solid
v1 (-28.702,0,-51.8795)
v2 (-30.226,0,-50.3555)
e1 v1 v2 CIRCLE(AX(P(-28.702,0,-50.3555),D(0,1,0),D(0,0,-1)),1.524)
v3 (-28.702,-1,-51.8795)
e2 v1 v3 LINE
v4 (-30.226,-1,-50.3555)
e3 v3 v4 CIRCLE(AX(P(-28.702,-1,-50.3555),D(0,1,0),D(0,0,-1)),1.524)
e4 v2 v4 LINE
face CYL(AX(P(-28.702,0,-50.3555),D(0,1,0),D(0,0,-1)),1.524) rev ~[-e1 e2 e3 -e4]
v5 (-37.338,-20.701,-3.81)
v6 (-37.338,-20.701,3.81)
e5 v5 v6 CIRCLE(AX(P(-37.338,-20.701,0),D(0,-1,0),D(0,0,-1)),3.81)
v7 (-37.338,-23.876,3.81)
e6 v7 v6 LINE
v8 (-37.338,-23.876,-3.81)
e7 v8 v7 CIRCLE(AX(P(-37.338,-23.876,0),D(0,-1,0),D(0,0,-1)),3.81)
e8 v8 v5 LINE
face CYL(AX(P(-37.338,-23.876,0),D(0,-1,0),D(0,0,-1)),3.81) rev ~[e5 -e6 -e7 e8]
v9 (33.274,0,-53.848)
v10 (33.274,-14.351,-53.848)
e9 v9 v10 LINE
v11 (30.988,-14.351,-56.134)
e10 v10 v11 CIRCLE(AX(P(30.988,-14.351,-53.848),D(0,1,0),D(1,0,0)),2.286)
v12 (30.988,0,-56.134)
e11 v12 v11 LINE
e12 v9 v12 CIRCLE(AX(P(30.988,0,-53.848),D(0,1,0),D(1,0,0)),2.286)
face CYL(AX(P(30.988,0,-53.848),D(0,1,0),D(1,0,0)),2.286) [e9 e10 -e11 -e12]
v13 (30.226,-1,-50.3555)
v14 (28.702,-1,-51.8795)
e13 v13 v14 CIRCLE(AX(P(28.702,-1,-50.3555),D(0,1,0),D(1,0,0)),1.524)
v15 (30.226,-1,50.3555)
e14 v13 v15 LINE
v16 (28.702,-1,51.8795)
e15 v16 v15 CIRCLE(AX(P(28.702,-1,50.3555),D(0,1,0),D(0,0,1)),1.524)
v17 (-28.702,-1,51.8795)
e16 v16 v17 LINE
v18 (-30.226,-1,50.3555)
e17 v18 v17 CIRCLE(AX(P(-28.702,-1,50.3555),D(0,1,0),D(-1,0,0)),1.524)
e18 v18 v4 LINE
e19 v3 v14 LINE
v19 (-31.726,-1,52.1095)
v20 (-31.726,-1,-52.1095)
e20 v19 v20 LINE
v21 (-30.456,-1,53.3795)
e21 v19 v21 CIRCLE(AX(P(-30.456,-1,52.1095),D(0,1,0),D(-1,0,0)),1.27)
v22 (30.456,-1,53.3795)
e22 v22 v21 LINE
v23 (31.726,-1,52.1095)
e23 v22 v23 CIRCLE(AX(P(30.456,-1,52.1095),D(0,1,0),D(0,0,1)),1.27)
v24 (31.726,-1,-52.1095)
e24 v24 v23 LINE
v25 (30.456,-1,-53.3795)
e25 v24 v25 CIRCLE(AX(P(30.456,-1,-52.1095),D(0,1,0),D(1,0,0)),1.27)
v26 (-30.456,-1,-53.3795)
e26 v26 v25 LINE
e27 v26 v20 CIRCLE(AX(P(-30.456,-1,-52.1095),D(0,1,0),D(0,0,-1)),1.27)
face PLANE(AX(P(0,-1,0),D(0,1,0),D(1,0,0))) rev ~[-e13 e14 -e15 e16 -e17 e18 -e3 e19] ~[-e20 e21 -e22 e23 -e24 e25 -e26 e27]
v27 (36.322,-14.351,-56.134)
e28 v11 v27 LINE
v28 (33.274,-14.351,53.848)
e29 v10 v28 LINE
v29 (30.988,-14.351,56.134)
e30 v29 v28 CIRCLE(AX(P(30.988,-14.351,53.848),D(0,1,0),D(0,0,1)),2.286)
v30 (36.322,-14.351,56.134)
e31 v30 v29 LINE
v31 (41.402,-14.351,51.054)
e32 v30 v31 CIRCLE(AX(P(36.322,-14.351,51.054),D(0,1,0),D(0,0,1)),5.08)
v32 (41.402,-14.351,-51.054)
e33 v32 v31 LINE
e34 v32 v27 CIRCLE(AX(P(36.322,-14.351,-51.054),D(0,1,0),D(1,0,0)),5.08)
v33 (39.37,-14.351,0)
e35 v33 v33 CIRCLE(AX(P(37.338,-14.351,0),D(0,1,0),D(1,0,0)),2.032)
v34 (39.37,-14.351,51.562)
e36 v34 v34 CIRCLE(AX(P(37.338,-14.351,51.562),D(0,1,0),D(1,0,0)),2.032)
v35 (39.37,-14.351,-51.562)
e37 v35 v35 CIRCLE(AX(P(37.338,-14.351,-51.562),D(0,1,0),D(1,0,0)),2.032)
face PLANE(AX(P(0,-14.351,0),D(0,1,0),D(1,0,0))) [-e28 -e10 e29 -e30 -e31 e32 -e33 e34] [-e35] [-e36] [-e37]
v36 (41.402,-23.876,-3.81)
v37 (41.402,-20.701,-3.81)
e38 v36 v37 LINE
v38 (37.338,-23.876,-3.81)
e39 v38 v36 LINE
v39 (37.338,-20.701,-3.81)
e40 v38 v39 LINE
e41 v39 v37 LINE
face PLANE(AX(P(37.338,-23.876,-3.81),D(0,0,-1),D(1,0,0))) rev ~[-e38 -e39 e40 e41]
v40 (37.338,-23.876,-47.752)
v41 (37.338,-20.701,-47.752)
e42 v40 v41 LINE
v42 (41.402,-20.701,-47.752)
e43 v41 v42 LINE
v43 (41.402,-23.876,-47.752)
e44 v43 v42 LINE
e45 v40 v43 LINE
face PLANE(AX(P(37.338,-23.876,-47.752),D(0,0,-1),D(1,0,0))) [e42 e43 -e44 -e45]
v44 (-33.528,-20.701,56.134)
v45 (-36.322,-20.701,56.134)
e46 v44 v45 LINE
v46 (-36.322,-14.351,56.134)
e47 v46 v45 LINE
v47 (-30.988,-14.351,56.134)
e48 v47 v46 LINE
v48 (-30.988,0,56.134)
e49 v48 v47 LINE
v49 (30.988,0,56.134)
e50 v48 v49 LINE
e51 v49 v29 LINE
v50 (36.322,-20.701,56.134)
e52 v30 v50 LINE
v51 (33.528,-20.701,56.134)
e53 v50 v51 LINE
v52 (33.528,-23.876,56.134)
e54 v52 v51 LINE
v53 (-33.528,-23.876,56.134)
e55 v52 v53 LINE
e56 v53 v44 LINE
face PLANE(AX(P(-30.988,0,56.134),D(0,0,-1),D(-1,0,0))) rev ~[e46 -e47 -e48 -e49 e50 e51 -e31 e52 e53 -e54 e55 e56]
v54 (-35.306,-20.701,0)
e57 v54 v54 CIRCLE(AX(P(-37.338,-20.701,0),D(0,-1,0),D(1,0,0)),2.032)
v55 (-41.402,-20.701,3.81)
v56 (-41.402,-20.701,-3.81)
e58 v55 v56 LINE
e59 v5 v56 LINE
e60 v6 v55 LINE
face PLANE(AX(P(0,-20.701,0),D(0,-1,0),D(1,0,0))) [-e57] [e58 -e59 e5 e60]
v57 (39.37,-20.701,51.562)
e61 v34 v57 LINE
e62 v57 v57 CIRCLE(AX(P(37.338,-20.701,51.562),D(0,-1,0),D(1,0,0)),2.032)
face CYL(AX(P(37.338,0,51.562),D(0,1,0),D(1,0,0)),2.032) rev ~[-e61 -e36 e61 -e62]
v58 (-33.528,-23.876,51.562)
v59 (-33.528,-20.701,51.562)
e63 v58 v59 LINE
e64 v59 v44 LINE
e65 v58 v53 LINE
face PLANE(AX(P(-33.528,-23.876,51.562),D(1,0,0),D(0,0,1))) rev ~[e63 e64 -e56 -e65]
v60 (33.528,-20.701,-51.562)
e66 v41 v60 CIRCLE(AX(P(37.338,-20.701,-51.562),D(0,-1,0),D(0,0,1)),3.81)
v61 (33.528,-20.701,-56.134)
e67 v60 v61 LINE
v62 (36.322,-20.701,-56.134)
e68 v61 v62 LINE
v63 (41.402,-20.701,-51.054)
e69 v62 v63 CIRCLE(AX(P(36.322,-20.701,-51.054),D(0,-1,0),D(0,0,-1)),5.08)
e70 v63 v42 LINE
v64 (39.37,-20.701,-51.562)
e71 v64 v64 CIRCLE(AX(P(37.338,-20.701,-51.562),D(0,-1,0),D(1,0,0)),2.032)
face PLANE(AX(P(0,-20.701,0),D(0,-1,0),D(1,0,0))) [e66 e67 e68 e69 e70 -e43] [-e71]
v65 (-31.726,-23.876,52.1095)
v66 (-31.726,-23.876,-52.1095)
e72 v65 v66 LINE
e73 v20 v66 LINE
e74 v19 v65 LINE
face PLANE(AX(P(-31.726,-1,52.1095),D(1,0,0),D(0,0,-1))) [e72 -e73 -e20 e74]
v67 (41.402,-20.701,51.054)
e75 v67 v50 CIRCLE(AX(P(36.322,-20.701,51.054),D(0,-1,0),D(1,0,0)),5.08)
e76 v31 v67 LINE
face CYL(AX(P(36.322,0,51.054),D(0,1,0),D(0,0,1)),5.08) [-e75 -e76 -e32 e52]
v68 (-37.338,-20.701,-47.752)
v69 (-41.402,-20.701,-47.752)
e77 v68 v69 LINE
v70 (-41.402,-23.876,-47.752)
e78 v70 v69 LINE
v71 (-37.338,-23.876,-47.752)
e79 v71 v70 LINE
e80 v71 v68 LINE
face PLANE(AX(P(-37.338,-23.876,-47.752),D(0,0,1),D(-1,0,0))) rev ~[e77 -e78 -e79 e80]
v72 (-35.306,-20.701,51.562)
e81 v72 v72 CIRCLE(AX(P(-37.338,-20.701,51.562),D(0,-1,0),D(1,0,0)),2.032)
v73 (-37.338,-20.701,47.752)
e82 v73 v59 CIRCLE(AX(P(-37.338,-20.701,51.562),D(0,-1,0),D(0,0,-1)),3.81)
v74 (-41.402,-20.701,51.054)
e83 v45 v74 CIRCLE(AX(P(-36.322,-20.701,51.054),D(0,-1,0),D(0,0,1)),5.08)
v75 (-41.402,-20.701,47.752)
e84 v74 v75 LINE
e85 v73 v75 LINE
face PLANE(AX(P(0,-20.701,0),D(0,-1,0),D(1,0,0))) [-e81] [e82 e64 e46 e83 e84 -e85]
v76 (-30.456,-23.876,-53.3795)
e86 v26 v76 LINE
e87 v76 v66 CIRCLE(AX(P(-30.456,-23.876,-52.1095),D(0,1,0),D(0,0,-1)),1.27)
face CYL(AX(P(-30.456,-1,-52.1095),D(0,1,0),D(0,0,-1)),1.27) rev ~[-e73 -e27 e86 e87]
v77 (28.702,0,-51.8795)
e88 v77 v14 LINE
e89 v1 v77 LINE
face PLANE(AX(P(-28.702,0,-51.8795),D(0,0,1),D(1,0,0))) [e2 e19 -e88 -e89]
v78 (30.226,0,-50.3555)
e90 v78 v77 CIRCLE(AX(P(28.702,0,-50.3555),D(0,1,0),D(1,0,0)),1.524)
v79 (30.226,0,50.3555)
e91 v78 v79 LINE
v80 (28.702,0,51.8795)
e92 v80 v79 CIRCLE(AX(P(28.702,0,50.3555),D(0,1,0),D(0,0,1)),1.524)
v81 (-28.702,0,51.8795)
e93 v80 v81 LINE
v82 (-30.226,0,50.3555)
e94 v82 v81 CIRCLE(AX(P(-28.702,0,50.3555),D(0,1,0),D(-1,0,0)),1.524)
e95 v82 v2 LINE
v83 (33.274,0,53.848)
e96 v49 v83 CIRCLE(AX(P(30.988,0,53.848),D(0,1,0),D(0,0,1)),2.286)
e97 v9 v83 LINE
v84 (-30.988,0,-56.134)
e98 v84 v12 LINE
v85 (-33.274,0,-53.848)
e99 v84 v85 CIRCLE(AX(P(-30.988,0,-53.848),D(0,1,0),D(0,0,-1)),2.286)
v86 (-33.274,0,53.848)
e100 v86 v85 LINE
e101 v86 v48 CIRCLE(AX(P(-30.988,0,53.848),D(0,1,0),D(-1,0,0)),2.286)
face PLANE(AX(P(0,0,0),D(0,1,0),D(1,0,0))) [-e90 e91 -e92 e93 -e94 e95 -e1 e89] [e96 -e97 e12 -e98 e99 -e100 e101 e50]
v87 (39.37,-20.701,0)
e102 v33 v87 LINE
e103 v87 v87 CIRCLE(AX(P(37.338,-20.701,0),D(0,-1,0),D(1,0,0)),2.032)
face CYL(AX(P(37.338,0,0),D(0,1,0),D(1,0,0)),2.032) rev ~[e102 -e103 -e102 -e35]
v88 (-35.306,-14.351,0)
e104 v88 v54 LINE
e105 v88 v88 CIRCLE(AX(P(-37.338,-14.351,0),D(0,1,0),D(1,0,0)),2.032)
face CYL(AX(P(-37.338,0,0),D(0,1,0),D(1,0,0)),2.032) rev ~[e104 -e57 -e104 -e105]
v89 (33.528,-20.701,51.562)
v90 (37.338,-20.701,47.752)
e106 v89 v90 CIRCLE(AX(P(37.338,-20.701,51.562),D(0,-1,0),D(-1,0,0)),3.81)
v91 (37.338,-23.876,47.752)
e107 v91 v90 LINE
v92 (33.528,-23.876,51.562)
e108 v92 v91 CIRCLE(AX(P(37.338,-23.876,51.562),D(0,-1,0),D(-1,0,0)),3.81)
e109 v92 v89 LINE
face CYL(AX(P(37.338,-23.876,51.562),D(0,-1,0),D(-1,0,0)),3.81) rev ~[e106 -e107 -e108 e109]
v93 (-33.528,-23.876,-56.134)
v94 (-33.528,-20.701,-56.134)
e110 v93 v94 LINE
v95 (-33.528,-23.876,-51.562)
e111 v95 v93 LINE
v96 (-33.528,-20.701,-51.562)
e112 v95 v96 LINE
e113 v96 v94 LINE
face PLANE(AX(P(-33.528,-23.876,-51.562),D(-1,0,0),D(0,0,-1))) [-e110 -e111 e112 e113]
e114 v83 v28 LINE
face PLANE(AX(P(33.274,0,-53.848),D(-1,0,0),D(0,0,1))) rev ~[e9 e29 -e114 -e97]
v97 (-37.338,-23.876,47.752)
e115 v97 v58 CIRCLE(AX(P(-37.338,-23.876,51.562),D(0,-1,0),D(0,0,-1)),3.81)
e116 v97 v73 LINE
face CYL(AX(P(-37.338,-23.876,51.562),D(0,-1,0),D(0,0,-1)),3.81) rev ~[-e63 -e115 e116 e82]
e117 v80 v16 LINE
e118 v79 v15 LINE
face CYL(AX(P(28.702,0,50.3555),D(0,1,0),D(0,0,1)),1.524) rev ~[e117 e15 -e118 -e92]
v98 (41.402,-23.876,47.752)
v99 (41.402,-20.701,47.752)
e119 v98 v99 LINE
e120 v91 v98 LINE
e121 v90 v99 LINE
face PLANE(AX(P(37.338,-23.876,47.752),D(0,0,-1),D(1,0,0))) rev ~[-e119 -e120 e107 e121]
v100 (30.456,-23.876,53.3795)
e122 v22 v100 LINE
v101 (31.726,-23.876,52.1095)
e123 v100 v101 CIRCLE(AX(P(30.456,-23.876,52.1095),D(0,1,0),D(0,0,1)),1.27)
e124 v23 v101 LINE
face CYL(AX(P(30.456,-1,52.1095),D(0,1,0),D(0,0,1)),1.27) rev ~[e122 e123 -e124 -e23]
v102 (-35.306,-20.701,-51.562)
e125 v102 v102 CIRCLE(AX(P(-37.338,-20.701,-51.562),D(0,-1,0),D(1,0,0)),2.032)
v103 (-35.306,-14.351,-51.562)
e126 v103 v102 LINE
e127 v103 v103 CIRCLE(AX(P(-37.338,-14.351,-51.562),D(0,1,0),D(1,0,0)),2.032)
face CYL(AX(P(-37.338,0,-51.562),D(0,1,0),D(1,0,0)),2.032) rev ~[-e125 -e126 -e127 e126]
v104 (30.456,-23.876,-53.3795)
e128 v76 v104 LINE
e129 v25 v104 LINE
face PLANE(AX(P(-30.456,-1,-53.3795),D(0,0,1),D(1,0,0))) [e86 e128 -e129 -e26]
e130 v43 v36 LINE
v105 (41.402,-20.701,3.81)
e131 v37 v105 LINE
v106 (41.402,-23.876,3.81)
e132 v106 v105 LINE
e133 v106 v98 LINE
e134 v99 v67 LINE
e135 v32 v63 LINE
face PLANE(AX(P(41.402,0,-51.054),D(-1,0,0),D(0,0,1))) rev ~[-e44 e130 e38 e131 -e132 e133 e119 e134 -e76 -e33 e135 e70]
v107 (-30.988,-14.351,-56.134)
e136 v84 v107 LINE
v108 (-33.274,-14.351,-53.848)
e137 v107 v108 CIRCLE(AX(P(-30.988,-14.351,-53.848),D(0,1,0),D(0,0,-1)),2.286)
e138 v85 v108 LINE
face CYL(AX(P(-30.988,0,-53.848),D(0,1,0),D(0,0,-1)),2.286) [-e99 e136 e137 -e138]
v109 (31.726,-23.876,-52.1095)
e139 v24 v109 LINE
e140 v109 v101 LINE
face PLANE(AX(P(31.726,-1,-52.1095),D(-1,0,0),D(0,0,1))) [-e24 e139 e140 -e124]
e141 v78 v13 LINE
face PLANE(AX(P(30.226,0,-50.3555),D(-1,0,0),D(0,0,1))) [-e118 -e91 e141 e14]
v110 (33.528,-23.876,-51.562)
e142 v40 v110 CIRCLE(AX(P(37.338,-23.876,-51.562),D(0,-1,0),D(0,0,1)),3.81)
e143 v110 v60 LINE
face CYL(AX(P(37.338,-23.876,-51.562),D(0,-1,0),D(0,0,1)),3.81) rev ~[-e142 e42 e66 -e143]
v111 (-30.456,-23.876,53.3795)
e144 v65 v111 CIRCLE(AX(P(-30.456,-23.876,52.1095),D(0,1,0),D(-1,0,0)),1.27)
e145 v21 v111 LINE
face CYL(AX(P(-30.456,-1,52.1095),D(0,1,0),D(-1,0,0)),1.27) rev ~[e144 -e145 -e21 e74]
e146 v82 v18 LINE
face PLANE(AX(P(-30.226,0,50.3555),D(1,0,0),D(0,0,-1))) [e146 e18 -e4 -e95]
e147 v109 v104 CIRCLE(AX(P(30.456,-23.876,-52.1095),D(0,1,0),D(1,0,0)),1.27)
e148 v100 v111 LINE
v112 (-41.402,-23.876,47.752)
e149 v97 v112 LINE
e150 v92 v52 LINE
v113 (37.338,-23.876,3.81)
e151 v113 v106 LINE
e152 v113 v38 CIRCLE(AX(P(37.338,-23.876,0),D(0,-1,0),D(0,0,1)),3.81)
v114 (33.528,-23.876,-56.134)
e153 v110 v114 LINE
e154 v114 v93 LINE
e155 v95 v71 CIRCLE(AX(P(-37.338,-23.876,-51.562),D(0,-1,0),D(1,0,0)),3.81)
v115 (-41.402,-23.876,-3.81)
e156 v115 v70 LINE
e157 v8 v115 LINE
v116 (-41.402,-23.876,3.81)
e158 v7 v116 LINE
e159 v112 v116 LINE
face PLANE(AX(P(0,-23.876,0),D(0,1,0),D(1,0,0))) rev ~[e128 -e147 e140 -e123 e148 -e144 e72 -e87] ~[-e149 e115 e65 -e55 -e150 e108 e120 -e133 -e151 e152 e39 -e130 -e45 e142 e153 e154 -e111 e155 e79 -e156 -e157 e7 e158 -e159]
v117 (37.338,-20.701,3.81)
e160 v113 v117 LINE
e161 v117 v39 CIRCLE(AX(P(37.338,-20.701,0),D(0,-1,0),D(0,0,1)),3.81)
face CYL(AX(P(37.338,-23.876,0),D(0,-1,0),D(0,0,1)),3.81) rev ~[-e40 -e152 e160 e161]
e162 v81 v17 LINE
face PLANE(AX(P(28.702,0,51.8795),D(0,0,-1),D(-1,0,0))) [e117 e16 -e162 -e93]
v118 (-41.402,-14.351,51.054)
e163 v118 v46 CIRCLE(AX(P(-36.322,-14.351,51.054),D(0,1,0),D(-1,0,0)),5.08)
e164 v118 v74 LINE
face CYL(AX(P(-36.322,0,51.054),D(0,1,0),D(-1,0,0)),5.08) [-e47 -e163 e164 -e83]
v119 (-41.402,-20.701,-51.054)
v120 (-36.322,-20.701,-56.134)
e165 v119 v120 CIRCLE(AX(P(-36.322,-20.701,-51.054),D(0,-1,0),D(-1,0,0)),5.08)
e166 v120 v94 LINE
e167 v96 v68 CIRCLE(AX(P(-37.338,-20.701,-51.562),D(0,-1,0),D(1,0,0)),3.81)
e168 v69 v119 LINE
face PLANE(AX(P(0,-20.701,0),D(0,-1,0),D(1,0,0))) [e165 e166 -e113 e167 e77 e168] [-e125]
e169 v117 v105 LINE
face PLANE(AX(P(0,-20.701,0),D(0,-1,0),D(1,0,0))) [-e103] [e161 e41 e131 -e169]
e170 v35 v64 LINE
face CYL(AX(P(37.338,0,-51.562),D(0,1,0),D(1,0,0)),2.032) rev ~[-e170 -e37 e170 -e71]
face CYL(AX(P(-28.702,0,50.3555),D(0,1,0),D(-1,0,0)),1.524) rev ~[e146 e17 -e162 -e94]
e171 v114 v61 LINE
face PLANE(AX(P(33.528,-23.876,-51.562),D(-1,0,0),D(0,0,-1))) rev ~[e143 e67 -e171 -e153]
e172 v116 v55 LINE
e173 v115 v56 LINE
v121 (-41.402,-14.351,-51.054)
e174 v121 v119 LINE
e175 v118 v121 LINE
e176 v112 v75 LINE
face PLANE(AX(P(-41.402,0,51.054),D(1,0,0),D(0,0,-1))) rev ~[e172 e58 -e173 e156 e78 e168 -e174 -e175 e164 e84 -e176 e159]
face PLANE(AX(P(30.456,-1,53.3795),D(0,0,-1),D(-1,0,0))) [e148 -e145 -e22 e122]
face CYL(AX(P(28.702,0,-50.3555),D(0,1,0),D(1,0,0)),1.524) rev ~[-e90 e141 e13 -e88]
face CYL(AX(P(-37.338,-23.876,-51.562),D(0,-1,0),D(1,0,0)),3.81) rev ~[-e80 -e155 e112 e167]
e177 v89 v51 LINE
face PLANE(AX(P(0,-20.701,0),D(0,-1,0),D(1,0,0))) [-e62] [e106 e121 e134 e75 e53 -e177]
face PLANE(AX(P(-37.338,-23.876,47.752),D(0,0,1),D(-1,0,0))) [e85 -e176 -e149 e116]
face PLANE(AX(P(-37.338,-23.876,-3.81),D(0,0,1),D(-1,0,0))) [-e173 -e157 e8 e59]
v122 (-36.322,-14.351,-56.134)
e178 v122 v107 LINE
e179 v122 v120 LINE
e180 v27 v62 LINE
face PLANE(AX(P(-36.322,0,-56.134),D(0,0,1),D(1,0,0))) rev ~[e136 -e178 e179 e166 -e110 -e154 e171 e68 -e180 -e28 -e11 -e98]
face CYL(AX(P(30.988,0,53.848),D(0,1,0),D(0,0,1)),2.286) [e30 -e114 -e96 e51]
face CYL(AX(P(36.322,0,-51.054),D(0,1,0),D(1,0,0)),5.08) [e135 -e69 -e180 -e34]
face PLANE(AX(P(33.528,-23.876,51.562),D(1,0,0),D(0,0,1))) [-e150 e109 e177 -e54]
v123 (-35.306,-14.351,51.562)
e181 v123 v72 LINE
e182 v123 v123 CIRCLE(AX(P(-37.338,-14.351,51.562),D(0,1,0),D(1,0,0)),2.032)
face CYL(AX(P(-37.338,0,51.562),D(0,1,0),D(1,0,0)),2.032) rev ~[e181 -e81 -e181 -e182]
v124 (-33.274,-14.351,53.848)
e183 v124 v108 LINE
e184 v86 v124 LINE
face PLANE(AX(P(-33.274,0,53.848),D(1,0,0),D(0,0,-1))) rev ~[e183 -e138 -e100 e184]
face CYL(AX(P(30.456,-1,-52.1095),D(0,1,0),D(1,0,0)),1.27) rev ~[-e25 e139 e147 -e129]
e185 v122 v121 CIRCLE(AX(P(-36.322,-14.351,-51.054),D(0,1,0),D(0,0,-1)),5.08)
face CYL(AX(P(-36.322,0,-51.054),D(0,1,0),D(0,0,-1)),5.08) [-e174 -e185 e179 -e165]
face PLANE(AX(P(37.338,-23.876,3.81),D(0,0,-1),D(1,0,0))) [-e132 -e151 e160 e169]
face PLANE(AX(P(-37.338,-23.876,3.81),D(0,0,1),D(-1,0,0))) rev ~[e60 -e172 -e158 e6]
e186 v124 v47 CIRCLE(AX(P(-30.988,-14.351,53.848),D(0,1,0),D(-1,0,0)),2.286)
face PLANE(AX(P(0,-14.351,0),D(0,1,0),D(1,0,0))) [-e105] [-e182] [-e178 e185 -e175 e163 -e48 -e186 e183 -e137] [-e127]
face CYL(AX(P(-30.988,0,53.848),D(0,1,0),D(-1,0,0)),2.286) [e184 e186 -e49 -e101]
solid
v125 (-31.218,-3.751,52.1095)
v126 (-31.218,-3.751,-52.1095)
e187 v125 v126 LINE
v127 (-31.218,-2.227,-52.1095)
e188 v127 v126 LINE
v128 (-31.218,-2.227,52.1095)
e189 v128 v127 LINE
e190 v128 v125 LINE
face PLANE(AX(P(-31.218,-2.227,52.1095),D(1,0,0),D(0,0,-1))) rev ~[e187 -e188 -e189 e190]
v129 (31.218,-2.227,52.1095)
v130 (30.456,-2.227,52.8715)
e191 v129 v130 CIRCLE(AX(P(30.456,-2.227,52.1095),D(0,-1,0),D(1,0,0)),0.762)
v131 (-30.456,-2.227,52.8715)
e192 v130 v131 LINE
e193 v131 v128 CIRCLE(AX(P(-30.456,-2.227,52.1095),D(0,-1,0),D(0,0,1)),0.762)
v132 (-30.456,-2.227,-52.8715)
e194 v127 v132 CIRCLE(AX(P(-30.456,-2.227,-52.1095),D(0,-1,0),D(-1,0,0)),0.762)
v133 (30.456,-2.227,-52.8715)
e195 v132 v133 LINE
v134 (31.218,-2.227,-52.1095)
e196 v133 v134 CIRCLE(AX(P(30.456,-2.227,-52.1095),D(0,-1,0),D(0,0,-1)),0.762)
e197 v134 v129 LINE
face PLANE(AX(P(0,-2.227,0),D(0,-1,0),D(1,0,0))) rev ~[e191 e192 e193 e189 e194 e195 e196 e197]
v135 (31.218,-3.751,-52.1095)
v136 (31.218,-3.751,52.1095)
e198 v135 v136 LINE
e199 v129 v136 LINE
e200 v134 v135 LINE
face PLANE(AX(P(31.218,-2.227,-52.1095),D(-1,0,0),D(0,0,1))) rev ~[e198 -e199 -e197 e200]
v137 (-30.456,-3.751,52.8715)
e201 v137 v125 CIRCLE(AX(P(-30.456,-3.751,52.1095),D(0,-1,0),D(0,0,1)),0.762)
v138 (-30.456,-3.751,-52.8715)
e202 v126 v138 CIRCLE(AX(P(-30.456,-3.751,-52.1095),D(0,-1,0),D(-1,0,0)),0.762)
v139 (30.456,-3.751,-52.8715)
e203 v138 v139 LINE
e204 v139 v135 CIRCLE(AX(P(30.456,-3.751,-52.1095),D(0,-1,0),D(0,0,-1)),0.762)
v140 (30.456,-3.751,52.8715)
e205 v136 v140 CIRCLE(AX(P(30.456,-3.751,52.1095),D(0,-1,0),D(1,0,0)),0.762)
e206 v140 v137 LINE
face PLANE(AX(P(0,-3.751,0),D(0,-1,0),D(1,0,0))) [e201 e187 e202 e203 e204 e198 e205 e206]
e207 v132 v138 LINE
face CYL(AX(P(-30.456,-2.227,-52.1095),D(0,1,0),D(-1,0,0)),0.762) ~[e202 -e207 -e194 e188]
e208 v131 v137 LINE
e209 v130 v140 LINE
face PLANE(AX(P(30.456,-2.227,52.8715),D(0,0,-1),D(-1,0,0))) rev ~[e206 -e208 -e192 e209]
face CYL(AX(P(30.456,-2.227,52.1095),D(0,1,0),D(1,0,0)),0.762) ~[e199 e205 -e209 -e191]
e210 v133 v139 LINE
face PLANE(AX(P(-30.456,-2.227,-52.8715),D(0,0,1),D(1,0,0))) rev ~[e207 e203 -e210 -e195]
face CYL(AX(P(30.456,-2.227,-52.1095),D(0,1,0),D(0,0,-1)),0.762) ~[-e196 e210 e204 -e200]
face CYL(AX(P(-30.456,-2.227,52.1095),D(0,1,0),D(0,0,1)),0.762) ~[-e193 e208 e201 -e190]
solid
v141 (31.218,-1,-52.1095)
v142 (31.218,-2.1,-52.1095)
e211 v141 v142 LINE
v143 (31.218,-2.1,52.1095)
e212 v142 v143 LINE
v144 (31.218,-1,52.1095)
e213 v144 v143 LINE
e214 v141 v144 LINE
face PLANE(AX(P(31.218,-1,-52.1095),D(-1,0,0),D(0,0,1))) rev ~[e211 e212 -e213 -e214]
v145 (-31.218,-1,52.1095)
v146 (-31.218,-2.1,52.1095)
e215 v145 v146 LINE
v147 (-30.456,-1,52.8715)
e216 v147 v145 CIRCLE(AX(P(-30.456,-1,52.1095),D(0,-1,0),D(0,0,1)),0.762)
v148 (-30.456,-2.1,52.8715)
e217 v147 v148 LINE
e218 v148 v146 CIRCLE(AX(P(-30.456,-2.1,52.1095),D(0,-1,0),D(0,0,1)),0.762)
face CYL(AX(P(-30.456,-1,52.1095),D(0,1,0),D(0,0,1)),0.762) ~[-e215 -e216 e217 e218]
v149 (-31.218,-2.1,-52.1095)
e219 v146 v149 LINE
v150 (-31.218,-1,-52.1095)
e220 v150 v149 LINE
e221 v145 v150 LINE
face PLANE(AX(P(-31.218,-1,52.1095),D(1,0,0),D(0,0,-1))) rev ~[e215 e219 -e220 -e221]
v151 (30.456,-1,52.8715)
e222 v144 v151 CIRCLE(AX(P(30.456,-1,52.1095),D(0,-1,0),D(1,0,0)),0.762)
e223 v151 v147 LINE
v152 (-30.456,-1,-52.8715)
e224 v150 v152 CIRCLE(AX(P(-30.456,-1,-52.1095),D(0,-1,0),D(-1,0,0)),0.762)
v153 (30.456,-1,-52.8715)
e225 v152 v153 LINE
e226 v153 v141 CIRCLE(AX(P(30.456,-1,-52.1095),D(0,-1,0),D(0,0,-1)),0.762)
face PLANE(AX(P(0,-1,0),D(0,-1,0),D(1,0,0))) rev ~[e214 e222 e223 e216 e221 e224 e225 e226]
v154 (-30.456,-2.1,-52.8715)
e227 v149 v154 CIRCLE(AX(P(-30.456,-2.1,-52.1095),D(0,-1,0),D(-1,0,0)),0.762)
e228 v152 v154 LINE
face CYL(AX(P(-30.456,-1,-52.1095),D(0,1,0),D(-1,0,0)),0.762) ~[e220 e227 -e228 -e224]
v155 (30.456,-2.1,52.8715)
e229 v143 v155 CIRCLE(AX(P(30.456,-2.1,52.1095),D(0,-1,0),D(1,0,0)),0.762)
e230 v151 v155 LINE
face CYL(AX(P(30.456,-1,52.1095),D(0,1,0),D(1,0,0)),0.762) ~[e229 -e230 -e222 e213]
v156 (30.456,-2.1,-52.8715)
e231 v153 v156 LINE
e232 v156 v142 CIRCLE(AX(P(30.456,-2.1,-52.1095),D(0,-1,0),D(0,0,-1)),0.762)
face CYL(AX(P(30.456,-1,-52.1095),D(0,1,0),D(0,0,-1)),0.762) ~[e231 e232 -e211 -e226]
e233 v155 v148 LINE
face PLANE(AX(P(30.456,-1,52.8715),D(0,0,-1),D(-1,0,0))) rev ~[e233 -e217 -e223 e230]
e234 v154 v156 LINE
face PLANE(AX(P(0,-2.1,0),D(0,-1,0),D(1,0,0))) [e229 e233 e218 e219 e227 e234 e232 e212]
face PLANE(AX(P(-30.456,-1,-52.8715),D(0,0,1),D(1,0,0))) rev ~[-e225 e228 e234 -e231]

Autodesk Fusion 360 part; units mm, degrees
sketch "Sketch1" plane through (0, 0, 0) normal (0, 1, 0) x (1, 0, 0)
  line L0 (-36.322, 56.134) -> (36.322, 56.134)
  line L1 (41.402, 51.054) -> (41.402, -51.054)
  line L2 (36.322, -56.134) -> (-36.322, -56.134)
  line L3 (-41.402, -51.054) -> (-41.402, 51.054)
  line L4 (-41.402, 56.134) -> (41.402, -56.134) construction
  line L5 (41.402, 56.134) -> (-41.402, -56.134) construction
  arc A0 (-36.322, 56.134) -> (-41.402, 51.054) centre (-36.322, 51.054) ccw
  arc A1 (41.402, 51.054) -> (36.322, 56.134) centre (36.322, 51.054) ccw
  arc A2 (36.322, -56.134) -> (41.402, -51.054) centre (36.322, -51.054) ccw
  arc A3 (-41.402, -51.054) -> (-36.322, -56.134) centre (-36.322, -51.054) ccw
  line L6 (-30.988, 56.134) -> (30.988, 56.134)
  line L7 (33.274, 53.848) -> (33.274, -53.848)
  line L8 (30.988, -56.134) -> (-30.988, -56.134)
  line L9 (-33.274, -53.848) -> (-33.274, 53.848)
  line L10 (-33.274, 56.134) -> (33.274, -56.134) construction
  line L11 (33.274, 56.134) -> (-33.274, -56.134) construction
  arc A4 (-30.988, 56.134) -> (-33.274, 53.848) centre (-30.988, 53.848) ccw
  arc A5 (33.274, 53.848) -> (30.988, 56.134) centre (30.988, 53.848) ccw
  arc A6 (30.988, -56.134) -> (33.274, -53.848) centre (30.988, -53.848) ccw
  arc A7 (-33.274, -53.848) -> (-30.988, -56.134) centre (-30.988, -53.848) ccw
  line L12 (-28.702, 51.8795) -> (28.702, 51.8795)
  line L13 (30.226, 50.3555) -> (30.226, -50.3555)
  line L14 (28.702, -51.8795) -> (-28.702, -51.8795)
  line L15 (-30.226, -50.3555) -> (-30.226, 50.3555)
  line L16 (-30.226, 51.8795) -> (30.226, -51.8795) construction
  line L17 (30.226, 51.8795) -> (-30.226, -51.8795) construction
  arc A8 (-28.702, 51.8795) -> (-30.226, 50.3555) centre (-28.702, 50.3555) ccw
  arc A9 (30.226, 50.3555) -> (28.702, 51.8795) centre (28.702, 50.3555) ccw
  arc A10 (28.702, -51.8795) -> (30.226, -50.3555) centre (28.702, -50.3555) ccw
  arc A11 (-30.226, -50.3555) -> (-28.702, -51.8795) centre (-28.702, -50.3555) ccw
  line L18 (-30.456, 53.3795) -> (30.456, 53.3795)
  line L19 (31.726, 52.1095) -> (31.726, -52.1095)
  line L20 (30.456, -53.3795) -> (-30.456, -53.3795)
  line L21 (-31.726, -52.1095) -> (-31.726, 52.1095)
  line L22 (-31.726, 53.3795) -> (31.726, -53.3795) construction
  line L23 (31.726, 53.3795) -> (-31.726, -53.3795) construction
  arc A12 (-30.456, 53.3795) -> (-31.726, 52.1095) centre (-30.456, 52.1095) ccw
  arc A13 (31.726, 52.1095) -> (30.456, 53.3795) centre (30.456, 52.1095) ccw
  arc A14 (30.456, -53.3795) -> (31.726, -52.1095) centre (30.456, -52.1095) ccw
  arc A15 (-31.726, -52.1095) -> (-30.456, -53.3795) centre (-30.456, -52.1095) ccw
  line L24 (37.338, 51.562) -> (-37.338, 51.562) construction
  line L25 (-37.338, 51.562) -> (-37.338, -51.562) construction
  line L26 (-37.338, -51.562) -> (37.338, -51.562) construction
  line L27 (37.338, -51.562) -> (37.338, 51.562) construction
  line L28 (37.338, 51.562) -> (-37.338, -51.562) construction
  line L29 (-37.338, 51.562) -> (37.338, -51.562) construction
  circle A16 centre (-37.338, 51.562) radius 2.032
  circle A17 centre (37.338, 51.562) radius 2.032
  circle A18 centre (37.338, 0) radius 2.032
  circle A19 centre (37.338, -51.562) radius 2.032
  circle A20 centre (-37.338, -51.562) radius 2.032
  circle A21 centre (-37.338, 0) radius 2.032
  dimension "d1" = 82.804
  dimension "d2" = 112.268
  dimension "d3" = 5.08
  dimension "d4" = 66.548
  dimension "d5" = 2.286
  dimension "d6" = 60.452
  dimension "d7" = 103.759
  dimension "d8" = 1.524
  dimension "d15" = 1.5
  dimension "d16" = 1.5
  dimension "d17" = 1.27
  dimension "d21" = 4.064
  dimension "d22" = 74.676
  dimension "d23" = 103.124
extrude "Extrude1" add sketch "Sketch1" against normal blind 23.876 contours L0 L2 L3 A0 A3 L9 A4 A7 | L0 L2 L6 L7 L8 L9 A4 A5 A6 A7 | L0 L1 L2 A1 A2 L7 A5 A6 | L12 L13 L14 L15 A8 A9 A10 A11 | L18 L19 L20 L21 A12 A13 A14 A15 | A16 | A17 | A18 | A19 | A20 | A21 makes body 1
extrude "Extrude2" cut sketch "Sketch1" against normal blind 14.351 contours L0 L2 L3 A0 A3 L9 A4 A7 | L0 L1 L2 A1 A2 L7 A5 A6 | A16 | A17 | A18 | A19 | A20 | A21 bodies 1
extrude "Extrude3" cut sketch "Sketch1" against normal blind 70 contours L12 L13 L14 L15 A8 A9 A10 A11 bodies 1
extrude "Extrude4" cut sketch "Sketch1" against normal blind 40 from surface at -1 contours L18 L19 L20 L21 A12 A13 A14 A15 bodies 1
extrude "Extrude5" cut sketch "Sketch1" against normal blind 80 contours A16 | A17 | A18 | A19 | A20 | A21 bodies 1
sketch "Sketch2" plane through (0, -23.876, 0) normal (0, -1, 0) x (1, 0, 0)
  circle A0 centre (37.338, 51.562) radius 2.032
  circle A1 centre (-37.338, -51.562) radius 2.032
  circle A2 centre (37.338, 0) radius 2.032
  circle A3 centre (-37.338, 51.562) radius 2.032
  circle A4 centre (-37.338, 0) radius 2.032
  circle A5 centre (37.338, -51.562) radius 2.032
  line L0 (-31.726, -52.1095) -> (-31.726, 52.1095)
  arc A6 (-30.456, 53.3795) -> (-31.726, 52.1095) centre (-30.456, 52.1095) ccw
  line L1 (-30.456, 53.3795) -> (30.456, 53.3795)
  arc A7 (31.726, 52.1095) -> (30.456, 53.3795) centre (30.456, 52.1095) ccw
  line L2 (31.726, 52.1095) -> (31.726, -52.1095)
  arc A8 (30.456, -53.3795) -> (31.726, -52.1095) centre (30.456, -52.1095) ccw
  line L3 (30.456, -53.3795) -> (-30.456, -53.3795)
  arc A9 (-31.726, -52.1095) -> (-30.456, -53.3795) centre (-30.456, -52.1095) ccw
  arc A10 (41.402, 51.054) -> (36.322, 56.134) centre (36.322, 51.054) ccw
  line L4 (36.322, 56.134) -> (-36.322, 56.134)
  arc A11 (-36.322, 56.134) -> (-41.402, 51.054) centre (-36.322, 51.054) ccw
  line L5 (-41.402, 51.054) -> (-41.402, -51.054)
  arc A12 (-41.402, -51.054) -> (-36.322, -56.134) centre (-36.322, -51.054) ccw
  line L6 (-36.322, -56.134) -> (36.322, -56.134)
  arc A13 (36.322, -56.134) -> (41.402, -51.054) centre (36.322, -51.054) ccw
  line L7 (41.402, -51.054) -> (41.402, 51.054)
  line L8 (-33.528, 51.562) -> (-33.528, 57.6053)
  line L9 (-33.528, 57.6053) -> (-43.8706, 57.6053)
  line L10 (-37.338, 47.752) -> (-43.8706, 47.752)
  line L11 (-43.8706, 47.752) -> (-43.8706, 57.6053)
  arc A14 (-37.338, 47.752) -> (-33.528, 51.562) centre (-37.338, 51.562) ccw
  line L12 (-37.338, 3.81) -> (-44.0815, 3.81)
  line L13 (-44.0815, 3.81) -> (-44.0815, -3.81)
  line L14 (-37.338, -3.81) -> (-44.0815, -3.81)
  arc A15 (-37.338, -3.81) -> (-37.338, 3.81) centre (-37.338, 0) ccw
  line L15 (-37.338, -47.752) -> (-43.7202, -47.752)
  line L16 (-43.7202, -47.752) -> (-43.7202, -57.2057)
  line L17 (-33.528, -51.562) -> (-33.528, -57.2057)
  line L18 (-33.528, -57.2057) -> (-43.7202, -57.2057)
  arc A16 (-33.528, -51.562) -> (-37.338, -47.752) centre (-37.338, -51.562) ccw
  line L19 (0, 0) -> (0, 74.1902) construction
  line L20 (33.528, 57.6053) -> (43.8706, 57.6053)
  line L21 (43.8706, 47.752) -> (43.8706, 57.6053)
  line L22 (37.338, 47.752) -> (43.8706, 47.752)
  arc A17 (33.528, 51.562) -> (37.338, 47.752) centre (37.338, 51.562) ccw
  line L23 (33.528, 51.562) -> (33.528, 57.6053)
  arc A18 (37.338, 3.81) -> (37.338, -3.81) centre (37.338, 0) ccw
  line L24 (37.338, 3.81) -> (44.0815, 3.81)
  line L25 (44.0815, 3.81) -> (44.0815, -3.81)
  line L26 (37.338, -3.81) -> (44.0815, -3.81)
  line L27 (43.7202, -47.752) -> (43.7202, -57.2057)
  line L28 (33.528, -57.2057) -> (43.7202, -57.2057)
  line L29 (33.528, -51.562) -> (33.528, -57.2057)
  arc A19 (37.338, -47.752) -> (33.528, -51.562) centre (37.338, -51.562) ccw
  line L30 (37.338, -47.752) -> (43.7202, -47.752)
  dimension "d26" = 3.81
extrude "Extrude6" cut sketch "Sketch2" against normal blind 3.175 contours A10 L4 L7 L22 A17 L23 | L7 A18 L24 L26 | L4 A11 L5 L8 L10 A14 | L6 A13 L7 L29 A19 L30 | L5 L12 L14 A15 | L5 A12 L6 L15 L17 A16 bodies 1
sketch "Sketch3" plane through (0, -1, 0) normal (0, -1, 0) x (1, 0, 0)
  arc A0 (-30.226, -50.3555) -> (-28.702, -51.8795) centre (-28.702, -50.3555) ccw
  line L0 (-30.226, -50.3555) -> (-30.226, 50.3555)
  arc A1 (-28.702, 51.8795) -> (-30.226, 50.3555) centre (-28.702, 50.3555) ccw
  line L1 (-28.702, 51.8795) -> (28.702, 51.8795)
  arc A2 (30.226, 50.3555) -> (28.702, 51.8795) centre (28.702, 50.3555) ccw
  line L2 (30.226, 50.3555) -> (30.226, -50.3555)
  arc A3 (28.702, -51.8795) -> (30.226, -50.3555) centre (28.702, -50.3555) ccw
  line L3 (28.702, -51.8795) -> (-28.702, -51.8795)
  arc A4 (-31.726, -52.1095) -> (-30.456, -53.3795) centre (-30.456, -52.1095) ccw
  line L4 (-30.456, -53.3795) -> (30.456, -53.3795)
  arc A5 (30.456, -53.3795) -> (31.726, -52.1095) centre (30.456, -52.1095) ccw
  line L5 (31.726, -52.1095) -> (31.726, 52.1095)
  arc A6 (31.726, 52.1095) -> (30.456, 53.3795) centre (30.456, 52.1095) ccw
  line L6 (30.456, 53.3795) -> (-30.456, 53.3795)
  arc A7 (-30.456, 53.3795) -> (-31.726, 52.1095) centre (-30.456, 52.1095) ccw
  line L7 (-31.726, 52.1095) -> (-31.726, -52.1095)
  arc A8 (-31.218, -52.1095) -> (-30.456, -52.8715) centre (-30.456, -52.1095) ccw
  line L8 (-30.456, -52.8715) -> (30.456, -52.8715)
  arc A9 (30.456, -52.8715) -> (31.218, -52.1095) centre (30.456, -52.1095) ccw
  line L9 (31.218, -52.1095) -> (31.218, 52.1095)
  arc A10 (31.218, 52.1095) -> (30.456, 52.8715) centre (30.456, 52.1095) ccw
  line L10 (30.456, 52.8715) -> (-30.456, 52.8715)
  arc A11 (-30.456, 52.8715) -> (-31.218, 52.1095) centre (-30.456, 52.1095) ccw
  line L11 (-31.218, 52.1095) -> (-31.218, -52.1095)
  dimension "d29" = 0.508
extrude "Extrude7" add sketch "Sketch3" along normal blind 1.1 separate body contours A0 L0 A1 L1 A2 L2 A3 L3 | A8 L8 A9 L9 A10 L10 A11 L11 makes body 2
sketch "Sketch4" plane through (0, -2.1, 0) normal (0, -1, 0) x (1, 0, 0)
  line L0 (-31.218, 52.1095) -> (-31.218, -52.1095)
  arc A0 (-31.218, -52.1095) -> (-30.456, -52.8715) centre (-30.456, -52.1095) ccw
  line L1 (-30.456, -52.8715) -> (30.456, -52.8715)
  arc A1 (30.456, -52.8715) -> (31.218, -52.1095) centre (30.456, -52.1095) ccw
  line L2 (31.218, -52.1095) -> (31.218, 52.1095)
  arc A2 (31.218, 52.1095) -> (30.456, 52.8715) centre (30.456, 52.1095) ccw
  line L3 (30.456, 52.8715) -> (-30.456, 52.8715)
  arc A3 (-30.456, 52.8715) -> (-31.218, 52.1095) centre (-30.456, 52.1095) ccw
  line L4 (-30.456, -52.8715) -> (30.456, -52.8715)
  arc A4 (30.456, -52.8715) -> (31.218, -52.1095) centre (30.456, -52.1095) ccw
  line L5 (31.218, -52.1095) -> (31.218, 52.1095)
  arc A5 (31.218, 52.1095) -> (30.456, 52.8715) centre (30.456, 52.1095) ccw
  line L6 (30.456, 52.8715) -> (-30.456, 52.8715)
  arc A6 (-30.456, 52.8715) -> (-31.218, 52.1095) centre (-30.456, 52.1095) ccw
  line L7 (-31.218, 52.1095) -> (-31.218, -52.1095)
  arc A7 (-31.218, -52.1095) -> (-30.456, -52.8715) centre (-30.456, -52.1095) ccw
  dimension "d32" = 0
extrude "Extrude8" add sketch "Sketch4" along normal blind 1.524 from surface at 0.127 separate body makes body 3
